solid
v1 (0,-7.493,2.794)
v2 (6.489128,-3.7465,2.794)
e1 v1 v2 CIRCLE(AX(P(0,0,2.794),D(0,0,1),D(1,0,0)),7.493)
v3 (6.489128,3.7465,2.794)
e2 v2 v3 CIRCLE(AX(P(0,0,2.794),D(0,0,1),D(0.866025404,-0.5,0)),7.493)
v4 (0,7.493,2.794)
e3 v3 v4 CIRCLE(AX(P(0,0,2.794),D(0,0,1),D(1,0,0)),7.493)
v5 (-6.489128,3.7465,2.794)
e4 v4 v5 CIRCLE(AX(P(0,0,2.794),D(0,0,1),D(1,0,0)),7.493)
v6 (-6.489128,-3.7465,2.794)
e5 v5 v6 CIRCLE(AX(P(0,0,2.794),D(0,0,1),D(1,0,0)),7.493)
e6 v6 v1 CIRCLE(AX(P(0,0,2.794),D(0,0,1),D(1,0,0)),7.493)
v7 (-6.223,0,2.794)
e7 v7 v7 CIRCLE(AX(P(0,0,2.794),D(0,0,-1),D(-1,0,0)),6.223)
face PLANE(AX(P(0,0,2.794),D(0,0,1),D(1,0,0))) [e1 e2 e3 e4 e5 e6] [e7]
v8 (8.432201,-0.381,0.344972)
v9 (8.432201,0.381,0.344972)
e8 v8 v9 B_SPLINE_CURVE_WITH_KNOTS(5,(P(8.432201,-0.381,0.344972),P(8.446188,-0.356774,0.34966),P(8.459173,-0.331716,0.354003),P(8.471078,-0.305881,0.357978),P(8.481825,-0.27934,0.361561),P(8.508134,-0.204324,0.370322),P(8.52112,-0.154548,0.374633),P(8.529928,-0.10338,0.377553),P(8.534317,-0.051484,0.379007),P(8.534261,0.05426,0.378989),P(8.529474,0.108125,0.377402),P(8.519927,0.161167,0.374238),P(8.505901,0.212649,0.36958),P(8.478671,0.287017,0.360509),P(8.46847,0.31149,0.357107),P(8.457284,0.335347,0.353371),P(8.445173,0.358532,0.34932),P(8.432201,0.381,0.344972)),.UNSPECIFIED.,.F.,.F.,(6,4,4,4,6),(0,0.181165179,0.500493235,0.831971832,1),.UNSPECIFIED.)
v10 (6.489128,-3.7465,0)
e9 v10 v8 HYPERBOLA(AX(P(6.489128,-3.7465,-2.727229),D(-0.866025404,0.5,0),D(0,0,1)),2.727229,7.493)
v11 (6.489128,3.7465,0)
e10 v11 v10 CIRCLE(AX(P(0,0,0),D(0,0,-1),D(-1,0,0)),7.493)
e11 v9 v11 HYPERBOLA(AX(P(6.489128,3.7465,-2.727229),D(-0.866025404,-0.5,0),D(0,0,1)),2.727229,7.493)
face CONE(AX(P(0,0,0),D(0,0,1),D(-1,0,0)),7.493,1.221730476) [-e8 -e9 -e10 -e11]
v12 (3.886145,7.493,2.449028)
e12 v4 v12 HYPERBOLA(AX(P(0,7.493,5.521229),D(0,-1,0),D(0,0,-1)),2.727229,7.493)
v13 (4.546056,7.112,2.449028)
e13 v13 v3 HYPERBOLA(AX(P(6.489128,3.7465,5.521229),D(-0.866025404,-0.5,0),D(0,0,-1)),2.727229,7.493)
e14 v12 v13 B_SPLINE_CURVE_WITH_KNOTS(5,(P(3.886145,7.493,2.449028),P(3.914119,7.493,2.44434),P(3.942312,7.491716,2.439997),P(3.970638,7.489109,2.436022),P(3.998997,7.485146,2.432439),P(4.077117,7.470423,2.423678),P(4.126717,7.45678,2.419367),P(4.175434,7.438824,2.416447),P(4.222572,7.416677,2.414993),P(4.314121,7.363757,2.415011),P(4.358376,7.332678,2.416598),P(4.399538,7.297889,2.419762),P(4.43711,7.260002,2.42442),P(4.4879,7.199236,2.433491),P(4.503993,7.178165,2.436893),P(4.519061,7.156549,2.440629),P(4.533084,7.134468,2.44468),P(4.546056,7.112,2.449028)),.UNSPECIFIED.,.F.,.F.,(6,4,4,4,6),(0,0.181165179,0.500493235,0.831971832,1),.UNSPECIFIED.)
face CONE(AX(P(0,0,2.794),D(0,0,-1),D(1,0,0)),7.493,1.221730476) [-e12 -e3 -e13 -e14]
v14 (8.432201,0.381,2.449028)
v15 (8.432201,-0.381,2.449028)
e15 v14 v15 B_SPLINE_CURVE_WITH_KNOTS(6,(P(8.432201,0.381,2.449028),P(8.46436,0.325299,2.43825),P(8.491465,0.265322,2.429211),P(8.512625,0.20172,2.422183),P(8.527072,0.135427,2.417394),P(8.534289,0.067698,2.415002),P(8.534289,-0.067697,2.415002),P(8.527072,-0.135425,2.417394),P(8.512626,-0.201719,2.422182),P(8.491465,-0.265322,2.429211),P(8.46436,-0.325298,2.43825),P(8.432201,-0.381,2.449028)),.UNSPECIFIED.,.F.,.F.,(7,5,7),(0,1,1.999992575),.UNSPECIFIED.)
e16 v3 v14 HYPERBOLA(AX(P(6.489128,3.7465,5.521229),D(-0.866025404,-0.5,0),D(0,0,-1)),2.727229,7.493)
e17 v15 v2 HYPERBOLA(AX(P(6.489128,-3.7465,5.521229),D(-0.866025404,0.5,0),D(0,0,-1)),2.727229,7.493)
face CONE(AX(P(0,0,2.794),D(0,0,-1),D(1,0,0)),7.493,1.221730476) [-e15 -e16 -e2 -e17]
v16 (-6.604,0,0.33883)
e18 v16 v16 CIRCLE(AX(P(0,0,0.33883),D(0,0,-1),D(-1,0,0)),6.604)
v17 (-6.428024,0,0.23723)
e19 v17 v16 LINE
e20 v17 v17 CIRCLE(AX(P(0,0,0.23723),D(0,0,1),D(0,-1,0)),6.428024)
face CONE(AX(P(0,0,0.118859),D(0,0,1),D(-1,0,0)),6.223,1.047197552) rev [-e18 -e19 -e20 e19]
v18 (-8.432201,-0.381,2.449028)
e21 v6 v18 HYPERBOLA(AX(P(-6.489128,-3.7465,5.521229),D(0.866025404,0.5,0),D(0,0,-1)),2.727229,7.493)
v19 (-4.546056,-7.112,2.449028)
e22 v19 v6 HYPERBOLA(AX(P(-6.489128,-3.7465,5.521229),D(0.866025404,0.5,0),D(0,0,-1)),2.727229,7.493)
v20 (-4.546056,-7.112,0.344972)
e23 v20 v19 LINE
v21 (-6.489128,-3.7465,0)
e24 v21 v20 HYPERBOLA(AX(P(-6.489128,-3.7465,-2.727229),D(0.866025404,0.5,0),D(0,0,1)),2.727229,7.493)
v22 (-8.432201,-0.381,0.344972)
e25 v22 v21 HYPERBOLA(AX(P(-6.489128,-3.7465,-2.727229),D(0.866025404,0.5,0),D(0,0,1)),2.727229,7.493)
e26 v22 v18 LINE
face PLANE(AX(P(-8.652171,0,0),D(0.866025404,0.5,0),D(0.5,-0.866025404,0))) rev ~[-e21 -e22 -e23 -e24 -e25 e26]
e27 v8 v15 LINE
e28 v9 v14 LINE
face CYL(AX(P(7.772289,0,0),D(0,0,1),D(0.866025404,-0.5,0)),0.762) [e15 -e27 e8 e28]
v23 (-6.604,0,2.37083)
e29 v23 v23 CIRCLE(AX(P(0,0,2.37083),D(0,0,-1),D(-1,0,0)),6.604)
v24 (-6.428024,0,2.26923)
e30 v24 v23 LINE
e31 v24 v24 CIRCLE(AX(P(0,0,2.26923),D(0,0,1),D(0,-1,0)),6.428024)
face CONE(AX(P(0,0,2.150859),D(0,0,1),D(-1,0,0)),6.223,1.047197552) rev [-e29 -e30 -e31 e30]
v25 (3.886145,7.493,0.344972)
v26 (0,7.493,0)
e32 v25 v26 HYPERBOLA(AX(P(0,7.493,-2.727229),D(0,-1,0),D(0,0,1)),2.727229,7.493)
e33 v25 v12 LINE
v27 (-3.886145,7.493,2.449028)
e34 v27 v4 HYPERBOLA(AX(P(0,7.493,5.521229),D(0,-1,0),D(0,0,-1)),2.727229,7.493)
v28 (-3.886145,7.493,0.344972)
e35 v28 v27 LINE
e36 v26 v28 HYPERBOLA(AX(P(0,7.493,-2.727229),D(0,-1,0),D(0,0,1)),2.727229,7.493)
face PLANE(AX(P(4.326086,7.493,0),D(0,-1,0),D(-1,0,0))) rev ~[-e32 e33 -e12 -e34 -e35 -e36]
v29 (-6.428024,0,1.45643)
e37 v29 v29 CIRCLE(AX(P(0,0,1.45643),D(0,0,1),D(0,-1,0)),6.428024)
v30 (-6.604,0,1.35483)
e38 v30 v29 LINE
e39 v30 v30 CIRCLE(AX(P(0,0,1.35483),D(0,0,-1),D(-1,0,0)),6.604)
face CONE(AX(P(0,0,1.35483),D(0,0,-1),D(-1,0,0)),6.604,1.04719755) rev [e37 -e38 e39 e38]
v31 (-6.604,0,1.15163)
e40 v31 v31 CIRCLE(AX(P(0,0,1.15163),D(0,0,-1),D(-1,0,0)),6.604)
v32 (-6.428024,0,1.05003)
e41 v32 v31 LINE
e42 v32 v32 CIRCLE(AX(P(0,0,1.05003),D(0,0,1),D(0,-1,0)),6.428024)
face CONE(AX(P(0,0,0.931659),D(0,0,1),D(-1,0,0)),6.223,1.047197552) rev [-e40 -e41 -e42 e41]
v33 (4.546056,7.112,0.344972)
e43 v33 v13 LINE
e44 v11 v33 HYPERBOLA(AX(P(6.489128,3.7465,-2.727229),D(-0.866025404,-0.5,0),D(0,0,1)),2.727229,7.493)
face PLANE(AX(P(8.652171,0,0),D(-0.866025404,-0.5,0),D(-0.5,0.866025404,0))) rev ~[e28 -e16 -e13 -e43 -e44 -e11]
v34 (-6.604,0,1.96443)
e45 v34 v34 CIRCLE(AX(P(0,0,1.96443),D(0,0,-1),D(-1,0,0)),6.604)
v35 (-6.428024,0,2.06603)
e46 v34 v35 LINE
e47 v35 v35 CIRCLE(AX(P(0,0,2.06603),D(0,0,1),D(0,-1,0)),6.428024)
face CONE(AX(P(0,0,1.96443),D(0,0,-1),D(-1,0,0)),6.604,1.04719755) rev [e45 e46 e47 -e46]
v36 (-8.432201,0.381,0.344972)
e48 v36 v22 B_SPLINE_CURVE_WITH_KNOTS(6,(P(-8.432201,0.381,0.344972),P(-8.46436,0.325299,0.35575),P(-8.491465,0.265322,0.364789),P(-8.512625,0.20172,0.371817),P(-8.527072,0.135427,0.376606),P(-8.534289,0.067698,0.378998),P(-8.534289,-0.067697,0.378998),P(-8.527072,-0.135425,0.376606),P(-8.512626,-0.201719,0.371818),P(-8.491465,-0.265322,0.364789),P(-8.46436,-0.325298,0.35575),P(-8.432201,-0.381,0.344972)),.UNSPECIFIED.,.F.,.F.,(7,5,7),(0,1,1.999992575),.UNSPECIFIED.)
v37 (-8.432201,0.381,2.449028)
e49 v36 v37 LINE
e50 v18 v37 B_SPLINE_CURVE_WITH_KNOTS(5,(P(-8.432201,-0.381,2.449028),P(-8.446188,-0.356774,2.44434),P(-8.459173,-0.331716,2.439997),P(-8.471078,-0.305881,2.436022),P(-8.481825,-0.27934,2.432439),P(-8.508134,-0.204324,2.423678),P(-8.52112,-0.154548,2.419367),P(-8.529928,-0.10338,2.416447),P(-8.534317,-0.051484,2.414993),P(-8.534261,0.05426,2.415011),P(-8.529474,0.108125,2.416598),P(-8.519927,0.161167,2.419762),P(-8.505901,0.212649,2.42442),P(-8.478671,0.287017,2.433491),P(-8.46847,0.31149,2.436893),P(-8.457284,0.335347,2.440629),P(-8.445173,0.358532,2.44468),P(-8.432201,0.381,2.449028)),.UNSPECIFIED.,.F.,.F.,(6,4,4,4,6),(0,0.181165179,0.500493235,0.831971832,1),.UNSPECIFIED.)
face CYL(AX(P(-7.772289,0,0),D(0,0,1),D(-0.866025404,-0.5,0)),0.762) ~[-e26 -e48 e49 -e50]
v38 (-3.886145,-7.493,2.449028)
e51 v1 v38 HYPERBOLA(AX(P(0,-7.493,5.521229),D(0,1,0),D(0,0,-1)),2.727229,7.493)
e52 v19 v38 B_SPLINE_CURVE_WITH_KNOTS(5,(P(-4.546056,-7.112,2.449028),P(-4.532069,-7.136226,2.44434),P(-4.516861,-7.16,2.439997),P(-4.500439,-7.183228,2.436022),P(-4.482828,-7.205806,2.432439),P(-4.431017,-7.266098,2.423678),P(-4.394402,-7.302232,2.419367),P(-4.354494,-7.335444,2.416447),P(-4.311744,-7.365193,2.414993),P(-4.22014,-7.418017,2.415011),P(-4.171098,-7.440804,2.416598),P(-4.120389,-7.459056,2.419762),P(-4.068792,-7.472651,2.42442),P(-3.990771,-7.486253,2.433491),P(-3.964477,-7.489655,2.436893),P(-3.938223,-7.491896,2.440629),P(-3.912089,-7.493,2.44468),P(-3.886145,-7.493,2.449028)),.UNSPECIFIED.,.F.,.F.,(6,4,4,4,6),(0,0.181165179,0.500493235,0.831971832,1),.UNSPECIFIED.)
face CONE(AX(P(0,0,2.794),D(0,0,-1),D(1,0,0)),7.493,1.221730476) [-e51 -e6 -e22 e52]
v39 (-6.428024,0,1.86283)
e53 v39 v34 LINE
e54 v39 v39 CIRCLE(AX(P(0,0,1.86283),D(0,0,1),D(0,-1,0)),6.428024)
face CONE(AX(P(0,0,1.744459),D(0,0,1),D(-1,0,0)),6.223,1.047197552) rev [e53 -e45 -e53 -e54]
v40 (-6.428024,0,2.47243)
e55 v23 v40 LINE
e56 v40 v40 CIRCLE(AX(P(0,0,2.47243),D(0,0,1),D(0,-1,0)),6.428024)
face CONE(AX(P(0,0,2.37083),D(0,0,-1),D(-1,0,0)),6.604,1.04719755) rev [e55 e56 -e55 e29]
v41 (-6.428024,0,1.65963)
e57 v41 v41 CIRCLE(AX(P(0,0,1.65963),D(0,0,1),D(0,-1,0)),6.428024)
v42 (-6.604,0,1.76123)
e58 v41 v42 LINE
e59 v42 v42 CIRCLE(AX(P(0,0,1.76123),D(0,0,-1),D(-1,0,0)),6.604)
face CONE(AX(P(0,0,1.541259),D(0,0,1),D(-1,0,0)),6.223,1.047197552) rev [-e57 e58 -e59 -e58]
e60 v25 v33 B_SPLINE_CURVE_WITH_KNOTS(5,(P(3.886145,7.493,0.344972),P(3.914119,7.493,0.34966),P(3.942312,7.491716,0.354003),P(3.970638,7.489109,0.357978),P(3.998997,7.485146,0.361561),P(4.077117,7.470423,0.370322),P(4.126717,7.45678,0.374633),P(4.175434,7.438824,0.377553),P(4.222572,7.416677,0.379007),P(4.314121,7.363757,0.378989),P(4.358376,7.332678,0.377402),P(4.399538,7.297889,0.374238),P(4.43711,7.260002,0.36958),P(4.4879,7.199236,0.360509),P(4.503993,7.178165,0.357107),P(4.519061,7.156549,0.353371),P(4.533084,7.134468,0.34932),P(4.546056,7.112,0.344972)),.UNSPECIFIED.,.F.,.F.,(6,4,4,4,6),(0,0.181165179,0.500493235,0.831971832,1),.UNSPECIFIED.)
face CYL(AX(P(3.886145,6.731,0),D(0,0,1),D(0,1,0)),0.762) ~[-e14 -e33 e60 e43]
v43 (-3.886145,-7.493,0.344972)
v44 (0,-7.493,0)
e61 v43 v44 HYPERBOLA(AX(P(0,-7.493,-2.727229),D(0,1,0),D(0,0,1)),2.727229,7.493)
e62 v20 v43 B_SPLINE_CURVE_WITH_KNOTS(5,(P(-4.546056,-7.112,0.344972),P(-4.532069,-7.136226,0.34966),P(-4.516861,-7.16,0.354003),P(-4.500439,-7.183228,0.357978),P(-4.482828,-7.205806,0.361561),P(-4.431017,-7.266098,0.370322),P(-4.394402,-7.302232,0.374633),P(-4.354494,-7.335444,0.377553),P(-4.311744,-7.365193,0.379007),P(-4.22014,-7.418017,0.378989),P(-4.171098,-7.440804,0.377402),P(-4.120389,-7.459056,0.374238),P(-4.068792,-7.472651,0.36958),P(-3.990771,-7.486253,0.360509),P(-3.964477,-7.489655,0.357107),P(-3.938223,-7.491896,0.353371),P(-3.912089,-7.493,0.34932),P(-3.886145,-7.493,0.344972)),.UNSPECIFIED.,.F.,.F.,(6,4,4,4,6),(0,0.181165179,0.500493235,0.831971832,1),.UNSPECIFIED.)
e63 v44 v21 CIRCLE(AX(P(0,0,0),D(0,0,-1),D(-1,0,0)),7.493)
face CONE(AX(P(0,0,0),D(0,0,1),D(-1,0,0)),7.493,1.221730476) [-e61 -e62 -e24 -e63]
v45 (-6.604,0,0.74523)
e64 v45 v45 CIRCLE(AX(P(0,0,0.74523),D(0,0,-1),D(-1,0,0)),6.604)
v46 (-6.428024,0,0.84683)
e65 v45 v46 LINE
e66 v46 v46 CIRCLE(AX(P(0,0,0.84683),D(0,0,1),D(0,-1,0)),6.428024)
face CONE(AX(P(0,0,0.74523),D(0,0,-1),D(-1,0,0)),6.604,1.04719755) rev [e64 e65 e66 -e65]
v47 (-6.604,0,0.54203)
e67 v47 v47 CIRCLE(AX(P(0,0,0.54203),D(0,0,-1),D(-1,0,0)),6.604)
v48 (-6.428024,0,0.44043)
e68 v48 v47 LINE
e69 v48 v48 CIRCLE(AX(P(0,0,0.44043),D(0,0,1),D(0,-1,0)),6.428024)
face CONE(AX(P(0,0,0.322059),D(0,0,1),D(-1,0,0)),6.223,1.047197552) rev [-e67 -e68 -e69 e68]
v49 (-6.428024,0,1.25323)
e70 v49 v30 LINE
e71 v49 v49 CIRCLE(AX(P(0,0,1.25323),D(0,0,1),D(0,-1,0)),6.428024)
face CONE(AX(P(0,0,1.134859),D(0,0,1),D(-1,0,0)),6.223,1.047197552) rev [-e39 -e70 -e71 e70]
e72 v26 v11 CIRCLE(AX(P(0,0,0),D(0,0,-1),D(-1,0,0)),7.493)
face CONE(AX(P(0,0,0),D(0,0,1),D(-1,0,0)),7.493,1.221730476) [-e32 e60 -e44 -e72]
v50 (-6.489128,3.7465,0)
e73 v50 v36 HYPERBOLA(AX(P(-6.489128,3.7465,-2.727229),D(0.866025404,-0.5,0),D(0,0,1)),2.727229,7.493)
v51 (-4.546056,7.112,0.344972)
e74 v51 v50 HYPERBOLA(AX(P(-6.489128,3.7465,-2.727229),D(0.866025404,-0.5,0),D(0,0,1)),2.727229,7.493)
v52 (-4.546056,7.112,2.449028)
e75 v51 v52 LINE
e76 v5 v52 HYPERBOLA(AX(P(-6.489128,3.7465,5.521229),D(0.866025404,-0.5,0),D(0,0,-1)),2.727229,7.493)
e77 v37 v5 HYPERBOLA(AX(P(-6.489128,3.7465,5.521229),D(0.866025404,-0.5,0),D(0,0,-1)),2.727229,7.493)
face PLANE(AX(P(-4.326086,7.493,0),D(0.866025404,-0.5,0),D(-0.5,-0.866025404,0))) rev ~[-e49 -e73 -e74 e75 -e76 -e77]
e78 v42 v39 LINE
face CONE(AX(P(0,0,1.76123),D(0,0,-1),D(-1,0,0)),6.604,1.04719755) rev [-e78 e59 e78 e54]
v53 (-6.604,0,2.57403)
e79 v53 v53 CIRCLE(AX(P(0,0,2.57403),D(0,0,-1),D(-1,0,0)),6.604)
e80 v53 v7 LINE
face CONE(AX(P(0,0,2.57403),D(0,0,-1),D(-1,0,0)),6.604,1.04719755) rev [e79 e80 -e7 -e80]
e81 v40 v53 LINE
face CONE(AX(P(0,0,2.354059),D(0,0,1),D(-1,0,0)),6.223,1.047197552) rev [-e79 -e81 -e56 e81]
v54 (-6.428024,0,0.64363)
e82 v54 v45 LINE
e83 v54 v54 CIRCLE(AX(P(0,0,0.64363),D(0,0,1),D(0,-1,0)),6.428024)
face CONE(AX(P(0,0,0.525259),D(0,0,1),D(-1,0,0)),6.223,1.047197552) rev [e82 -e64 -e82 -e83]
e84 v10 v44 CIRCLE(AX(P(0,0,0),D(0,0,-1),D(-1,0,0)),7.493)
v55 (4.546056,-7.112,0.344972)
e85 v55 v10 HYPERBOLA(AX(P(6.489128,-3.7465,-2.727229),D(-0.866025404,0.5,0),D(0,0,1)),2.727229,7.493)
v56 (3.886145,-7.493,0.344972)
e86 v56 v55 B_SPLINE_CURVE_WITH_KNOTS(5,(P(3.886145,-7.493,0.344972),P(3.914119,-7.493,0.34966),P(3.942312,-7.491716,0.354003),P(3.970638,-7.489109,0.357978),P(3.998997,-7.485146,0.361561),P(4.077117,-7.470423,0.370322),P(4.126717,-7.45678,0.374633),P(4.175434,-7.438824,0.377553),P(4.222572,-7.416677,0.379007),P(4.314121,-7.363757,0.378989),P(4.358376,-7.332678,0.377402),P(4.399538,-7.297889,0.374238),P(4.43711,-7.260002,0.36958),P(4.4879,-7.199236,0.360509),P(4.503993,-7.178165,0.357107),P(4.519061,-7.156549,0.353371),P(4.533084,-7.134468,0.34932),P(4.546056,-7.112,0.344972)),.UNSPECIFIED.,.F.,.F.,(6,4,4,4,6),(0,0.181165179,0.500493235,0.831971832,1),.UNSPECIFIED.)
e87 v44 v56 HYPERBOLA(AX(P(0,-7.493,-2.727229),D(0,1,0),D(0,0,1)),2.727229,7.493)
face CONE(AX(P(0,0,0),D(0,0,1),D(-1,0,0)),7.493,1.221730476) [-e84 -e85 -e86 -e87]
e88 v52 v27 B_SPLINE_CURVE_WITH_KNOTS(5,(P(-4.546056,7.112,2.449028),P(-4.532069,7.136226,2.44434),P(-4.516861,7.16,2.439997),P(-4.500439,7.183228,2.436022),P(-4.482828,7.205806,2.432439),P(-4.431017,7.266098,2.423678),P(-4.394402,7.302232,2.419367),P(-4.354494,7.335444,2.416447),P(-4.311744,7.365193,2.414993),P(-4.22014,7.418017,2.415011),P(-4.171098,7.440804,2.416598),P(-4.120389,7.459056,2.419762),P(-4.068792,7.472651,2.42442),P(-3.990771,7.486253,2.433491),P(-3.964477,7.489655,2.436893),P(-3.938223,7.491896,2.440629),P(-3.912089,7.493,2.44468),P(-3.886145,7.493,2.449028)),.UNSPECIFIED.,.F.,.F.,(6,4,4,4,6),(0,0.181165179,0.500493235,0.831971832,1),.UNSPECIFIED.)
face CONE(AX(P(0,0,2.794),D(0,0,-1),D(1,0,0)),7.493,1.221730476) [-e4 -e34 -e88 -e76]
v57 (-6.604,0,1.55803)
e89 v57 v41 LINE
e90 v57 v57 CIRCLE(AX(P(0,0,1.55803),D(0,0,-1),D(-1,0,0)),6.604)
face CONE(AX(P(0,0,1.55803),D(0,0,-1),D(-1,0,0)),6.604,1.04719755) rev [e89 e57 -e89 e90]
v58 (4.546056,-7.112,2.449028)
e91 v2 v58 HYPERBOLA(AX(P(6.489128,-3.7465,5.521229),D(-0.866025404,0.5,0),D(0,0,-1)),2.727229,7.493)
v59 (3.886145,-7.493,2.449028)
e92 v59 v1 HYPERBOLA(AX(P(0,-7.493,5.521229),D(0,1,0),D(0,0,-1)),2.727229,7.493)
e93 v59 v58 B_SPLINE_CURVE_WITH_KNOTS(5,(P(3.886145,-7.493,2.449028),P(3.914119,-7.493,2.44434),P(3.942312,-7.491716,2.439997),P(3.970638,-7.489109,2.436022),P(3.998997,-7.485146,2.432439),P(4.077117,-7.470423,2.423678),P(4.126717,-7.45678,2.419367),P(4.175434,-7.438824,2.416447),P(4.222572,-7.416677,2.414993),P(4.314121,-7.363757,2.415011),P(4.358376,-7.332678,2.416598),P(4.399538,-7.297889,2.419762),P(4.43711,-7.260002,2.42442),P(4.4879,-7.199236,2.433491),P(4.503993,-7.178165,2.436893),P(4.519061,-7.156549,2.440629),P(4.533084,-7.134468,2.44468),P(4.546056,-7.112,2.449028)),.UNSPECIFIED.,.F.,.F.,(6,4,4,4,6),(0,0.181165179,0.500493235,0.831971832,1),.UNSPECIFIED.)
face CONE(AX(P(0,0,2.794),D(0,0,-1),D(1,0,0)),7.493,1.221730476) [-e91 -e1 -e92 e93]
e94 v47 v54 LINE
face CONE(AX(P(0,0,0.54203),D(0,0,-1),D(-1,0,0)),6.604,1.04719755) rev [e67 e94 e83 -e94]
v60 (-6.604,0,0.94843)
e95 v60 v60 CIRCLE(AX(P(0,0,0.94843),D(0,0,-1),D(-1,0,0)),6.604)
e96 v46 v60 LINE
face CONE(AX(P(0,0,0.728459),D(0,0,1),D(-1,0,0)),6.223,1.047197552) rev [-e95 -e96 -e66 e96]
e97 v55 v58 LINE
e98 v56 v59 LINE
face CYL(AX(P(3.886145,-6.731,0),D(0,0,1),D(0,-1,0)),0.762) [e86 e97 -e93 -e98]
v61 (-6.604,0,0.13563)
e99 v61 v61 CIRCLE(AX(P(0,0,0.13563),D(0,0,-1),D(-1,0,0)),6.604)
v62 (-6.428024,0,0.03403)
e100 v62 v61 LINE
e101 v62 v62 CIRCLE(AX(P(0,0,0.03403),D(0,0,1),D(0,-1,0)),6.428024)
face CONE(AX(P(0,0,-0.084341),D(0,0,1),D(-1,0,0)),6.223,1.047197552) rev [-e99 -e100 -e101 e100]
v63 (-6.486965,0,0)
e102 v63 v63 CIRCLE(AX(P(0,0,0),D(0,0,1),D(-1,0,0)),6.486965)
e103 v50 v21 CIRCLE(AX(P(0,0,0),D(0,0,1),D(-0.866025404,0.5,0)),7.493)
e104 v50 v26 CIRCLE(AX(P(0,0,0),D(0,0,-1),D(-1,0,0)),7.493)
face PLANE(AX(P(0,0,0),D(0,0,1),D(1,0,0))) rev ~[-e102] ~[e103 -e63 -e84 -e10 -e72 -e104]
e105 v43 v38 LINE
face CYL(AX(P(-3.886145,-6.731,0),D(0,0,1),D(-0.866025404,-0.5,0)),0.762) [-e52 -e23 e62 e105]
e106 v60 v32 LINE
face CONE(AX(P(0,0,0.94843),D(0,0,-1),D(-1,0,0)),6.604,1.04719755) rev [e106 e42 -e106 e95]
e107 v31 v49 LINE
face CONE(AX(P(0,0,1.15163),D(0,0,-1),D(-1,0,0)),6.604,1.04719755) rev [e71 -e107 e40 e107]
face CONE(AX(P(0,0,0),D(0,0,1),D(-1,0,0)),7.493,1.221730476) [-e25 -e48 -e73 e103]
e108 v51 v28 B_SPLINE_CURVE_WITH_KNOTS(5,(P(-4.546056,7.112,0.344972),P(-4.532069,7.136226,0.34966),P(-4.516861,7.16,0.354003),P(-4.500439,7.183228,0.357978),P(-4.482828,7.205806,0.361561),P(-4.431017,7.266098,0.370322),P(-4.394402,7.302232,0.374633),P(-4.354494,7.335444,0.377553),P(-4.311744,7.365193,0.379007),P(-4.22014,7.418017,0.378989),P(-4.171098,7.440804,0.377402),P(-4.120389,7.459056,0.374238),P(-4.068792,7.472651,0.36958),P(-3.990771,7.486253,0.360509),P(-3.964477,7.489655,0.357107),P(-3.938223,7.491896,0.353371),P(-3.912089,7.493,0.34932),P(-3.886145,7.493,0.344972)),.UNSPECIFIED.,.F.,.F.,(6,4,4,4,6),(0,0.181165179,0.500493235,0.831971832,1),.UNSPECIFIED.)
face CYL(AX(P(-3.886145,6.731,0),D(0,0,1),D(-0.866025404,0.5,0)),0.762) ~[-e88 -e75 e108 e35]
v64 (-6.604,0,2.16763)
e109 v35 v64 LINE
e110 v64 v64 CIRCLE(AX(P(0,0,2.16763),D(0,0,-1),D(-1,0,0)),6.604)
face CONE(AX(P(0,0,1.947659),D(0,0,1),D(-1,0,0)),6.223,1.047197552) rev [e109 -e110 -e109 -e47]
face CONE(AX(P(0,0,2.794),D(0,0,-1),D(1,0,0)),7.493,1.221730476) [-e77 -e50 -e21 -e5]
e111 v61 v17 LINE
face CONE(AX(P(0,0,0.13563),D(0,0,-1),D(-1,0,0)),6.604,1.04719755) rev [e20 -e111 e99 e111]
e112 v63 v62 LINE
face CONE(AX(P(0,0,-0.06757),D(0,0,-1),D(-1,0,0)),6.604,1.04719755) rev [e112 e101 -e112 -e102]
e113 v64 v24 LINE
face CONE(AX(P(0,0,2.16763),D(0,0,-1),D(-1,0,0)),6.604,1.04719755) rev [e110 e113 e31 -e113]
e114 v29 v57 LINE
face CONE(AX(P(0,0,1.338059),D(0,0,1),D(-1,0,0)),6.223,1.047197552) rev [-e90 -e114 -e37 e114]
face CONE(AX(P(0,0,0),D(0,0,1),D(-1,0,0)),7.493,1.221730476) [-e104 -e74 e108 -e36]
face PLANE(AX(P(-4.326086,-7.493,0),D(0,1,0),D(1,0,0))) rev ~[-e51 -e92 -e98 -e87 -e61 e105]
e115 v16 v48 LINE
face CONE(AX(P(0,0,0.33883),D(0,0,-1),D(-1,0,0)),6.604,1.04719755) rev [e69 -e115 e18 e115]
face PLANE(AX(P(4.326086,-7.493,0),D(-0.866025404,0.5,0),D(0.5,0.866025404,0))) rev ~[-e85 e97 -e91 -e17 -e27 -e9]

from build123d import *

# Parameters (mm, degrees)
SKETCH1_R          = 6.223
EXTRUDE1_DEPTH     = 2.794
FILLET1_R          = 0.762
SKETCH2_OUTSIDE_W  = 44.492
SKETCH2_OUTSIDE_H  = 42.41
SKETCH2_OUTSIDE_R  = 7.493
CUT_EXTRUDE1_DEPTH = 3.794
CUT_EXTRUDE1_DRAFT = -70
SKETCH3_OUTSIDE_W  = 44.492
SKETCH3_OUTSIDE_H  = 42.41
SKETCH3_OUTSIDE_R  = 7.493
CUT_EXTRUDE2_DEPTH = 3.7940001
CUT_EXTRUDE2_DRAFT = -70
LPATTERN1_COUNT    = 14
LPATTERN1_PITCH    = 0.2032


with BuildPart() as part:
    # Sketch1 → Extrude1 (new body)
    with BuildSketch(Plane.XY):
        Polygon((-8.652171134, 0), (-4.326085567, -7.493), (4.326085567, -7.493), (8.652171134, 0), (4.326085567, 7.493), (-4.326085567, 7.493), align=None)
        Circle(SKETCH1_R, mode=Mode.SUBTRACT)
    extrude(amount=EXTRUDE1_DEPTH)

    # Fillet1
    fillet1_edges = [part.edges().sort_by_distance(p)[0] for p in [
        (8.652171134, 0, 1.397),
        (4.326085567, -7.493, 1.397),
        (-4.326085567, -7.493, 1.397),
        (-8.652171134, 0, 1.397),
        (-4.326085567, 7.493, 1.397),
        (4.326085567, 7.493, 1.397),
    ]]
    fillet(fillet1_edges, radius=FILLET1_R)


with BuildPart() as cut_extrude1_tool:
    # Sketch2 outside → Cut-Extrude1 (with draft: the straight prism first)
    with BuildSketch(Plane.XY.offset(2.794)):
        Rectangle(SKETCH2_OUTSIDE_W, SKETCH2_OUTSIDE_H)
        Circle(SKETCH2_OUTSIDE_R, mode=Mode.SUBTRACT)
    extrude(amount=-CUT_EXTRUDE1_DEPTH)
    # Cut-Extrude1: the draft: its side faces are tilted about the plane it starts from
    cut_extrude1_sides = [cut_extrude1_tool.faces().sort_by_distance(p)[0] for p in [
        (0, -21.205, 0.897),
        (22.246, 0, 0.897),
        (0, 21.205, 0.897),
        (-22.246, 0, 0.897),
        (-7.493, 0, 0.897),
    ]]
    draft(cut_extrude1_sides, Plane.XY.offset(2.794), CUT_EXTRUDE1_DRAFT)


with BuildPart() as part_1:
    add(part.part)

    # Cut-Extrude1: cut by cut_extrude1_tool
    add(cut_extrude1_tool.part, mode=Mode.SUBTRACT)


with BuildPart() as cut_extrude2_tool:
    # Sketch3 outside → Cut-Extrude2 (with draft: the straight prism first)
    with BuildSketch(Plane(origin=(0, 0, 0), x_dir=(-1, 0, 0), z_dir=(0, 0, -1))):
        Rectangle(SKETCH3_OUTSIDE_W, SKETCH3_OUTSIDE_H)
        Circle(SKETCH3_OUTSIDE_R, mode=Mode.SUBTRACT)
    extrude(amount=-CUT_EXTRUDE2_DEPTH)
    # Cut-Extrude2: the draft: its side faces are tilted about the plane it starts from
    cut_extrude2_sides = [cut_extrude2_tool.faces().sort_by_distance(p)[0] for p in [
        (0, -21.205, 1.89700005),
        (-22.246, 0, 1.89700005),
        (0, 21.205, 1.89700005),
        (22.246, 0, 1.89700005),
        (7.493, 0, 1.89700005),
    ]]
    draft(cut_extrude2_sides, Plane(origin=(0, 0, 0), x_dir=(-1, 0, 0), z_dir=(0, 0, -1)), CUT_EXTRUDE2_DRAFT)


with BuildPart() as part_2:
    add(part_1.part)

    # Cut-Extrude2: cut by cut_extrude2_tool
    add(cut_extrude2_tool.part, mode=Mode.SUBTRACT)

    # Sketch4 → Cut-Revolve1 (revolve, cut)
    with BuildSketch(Plane(origin=(0, 0, 0), x_dir=(1, 0, 0), z_dir=(0, 1, 0))):
        Polygon((-6.223, -2.794), (-6.223, -2.354059095), (-6.604, -2.574029547), align=None)
    cut_revolve1 = revolve(axis=Axis((0, 0, 2.794), (0, 0, -1)), mode=Mode.SUBTRACT)

    # LPattern1: Cut-Revolve1 ×14
    with Locations(*[(0, 0, -i * LPATTERN1_PITCH) for i in range(1, LPATTERN1_COUNT)]):
        add(cut_revolve1, mode=Mode.SUBTRACT)


solid = part_2.part
